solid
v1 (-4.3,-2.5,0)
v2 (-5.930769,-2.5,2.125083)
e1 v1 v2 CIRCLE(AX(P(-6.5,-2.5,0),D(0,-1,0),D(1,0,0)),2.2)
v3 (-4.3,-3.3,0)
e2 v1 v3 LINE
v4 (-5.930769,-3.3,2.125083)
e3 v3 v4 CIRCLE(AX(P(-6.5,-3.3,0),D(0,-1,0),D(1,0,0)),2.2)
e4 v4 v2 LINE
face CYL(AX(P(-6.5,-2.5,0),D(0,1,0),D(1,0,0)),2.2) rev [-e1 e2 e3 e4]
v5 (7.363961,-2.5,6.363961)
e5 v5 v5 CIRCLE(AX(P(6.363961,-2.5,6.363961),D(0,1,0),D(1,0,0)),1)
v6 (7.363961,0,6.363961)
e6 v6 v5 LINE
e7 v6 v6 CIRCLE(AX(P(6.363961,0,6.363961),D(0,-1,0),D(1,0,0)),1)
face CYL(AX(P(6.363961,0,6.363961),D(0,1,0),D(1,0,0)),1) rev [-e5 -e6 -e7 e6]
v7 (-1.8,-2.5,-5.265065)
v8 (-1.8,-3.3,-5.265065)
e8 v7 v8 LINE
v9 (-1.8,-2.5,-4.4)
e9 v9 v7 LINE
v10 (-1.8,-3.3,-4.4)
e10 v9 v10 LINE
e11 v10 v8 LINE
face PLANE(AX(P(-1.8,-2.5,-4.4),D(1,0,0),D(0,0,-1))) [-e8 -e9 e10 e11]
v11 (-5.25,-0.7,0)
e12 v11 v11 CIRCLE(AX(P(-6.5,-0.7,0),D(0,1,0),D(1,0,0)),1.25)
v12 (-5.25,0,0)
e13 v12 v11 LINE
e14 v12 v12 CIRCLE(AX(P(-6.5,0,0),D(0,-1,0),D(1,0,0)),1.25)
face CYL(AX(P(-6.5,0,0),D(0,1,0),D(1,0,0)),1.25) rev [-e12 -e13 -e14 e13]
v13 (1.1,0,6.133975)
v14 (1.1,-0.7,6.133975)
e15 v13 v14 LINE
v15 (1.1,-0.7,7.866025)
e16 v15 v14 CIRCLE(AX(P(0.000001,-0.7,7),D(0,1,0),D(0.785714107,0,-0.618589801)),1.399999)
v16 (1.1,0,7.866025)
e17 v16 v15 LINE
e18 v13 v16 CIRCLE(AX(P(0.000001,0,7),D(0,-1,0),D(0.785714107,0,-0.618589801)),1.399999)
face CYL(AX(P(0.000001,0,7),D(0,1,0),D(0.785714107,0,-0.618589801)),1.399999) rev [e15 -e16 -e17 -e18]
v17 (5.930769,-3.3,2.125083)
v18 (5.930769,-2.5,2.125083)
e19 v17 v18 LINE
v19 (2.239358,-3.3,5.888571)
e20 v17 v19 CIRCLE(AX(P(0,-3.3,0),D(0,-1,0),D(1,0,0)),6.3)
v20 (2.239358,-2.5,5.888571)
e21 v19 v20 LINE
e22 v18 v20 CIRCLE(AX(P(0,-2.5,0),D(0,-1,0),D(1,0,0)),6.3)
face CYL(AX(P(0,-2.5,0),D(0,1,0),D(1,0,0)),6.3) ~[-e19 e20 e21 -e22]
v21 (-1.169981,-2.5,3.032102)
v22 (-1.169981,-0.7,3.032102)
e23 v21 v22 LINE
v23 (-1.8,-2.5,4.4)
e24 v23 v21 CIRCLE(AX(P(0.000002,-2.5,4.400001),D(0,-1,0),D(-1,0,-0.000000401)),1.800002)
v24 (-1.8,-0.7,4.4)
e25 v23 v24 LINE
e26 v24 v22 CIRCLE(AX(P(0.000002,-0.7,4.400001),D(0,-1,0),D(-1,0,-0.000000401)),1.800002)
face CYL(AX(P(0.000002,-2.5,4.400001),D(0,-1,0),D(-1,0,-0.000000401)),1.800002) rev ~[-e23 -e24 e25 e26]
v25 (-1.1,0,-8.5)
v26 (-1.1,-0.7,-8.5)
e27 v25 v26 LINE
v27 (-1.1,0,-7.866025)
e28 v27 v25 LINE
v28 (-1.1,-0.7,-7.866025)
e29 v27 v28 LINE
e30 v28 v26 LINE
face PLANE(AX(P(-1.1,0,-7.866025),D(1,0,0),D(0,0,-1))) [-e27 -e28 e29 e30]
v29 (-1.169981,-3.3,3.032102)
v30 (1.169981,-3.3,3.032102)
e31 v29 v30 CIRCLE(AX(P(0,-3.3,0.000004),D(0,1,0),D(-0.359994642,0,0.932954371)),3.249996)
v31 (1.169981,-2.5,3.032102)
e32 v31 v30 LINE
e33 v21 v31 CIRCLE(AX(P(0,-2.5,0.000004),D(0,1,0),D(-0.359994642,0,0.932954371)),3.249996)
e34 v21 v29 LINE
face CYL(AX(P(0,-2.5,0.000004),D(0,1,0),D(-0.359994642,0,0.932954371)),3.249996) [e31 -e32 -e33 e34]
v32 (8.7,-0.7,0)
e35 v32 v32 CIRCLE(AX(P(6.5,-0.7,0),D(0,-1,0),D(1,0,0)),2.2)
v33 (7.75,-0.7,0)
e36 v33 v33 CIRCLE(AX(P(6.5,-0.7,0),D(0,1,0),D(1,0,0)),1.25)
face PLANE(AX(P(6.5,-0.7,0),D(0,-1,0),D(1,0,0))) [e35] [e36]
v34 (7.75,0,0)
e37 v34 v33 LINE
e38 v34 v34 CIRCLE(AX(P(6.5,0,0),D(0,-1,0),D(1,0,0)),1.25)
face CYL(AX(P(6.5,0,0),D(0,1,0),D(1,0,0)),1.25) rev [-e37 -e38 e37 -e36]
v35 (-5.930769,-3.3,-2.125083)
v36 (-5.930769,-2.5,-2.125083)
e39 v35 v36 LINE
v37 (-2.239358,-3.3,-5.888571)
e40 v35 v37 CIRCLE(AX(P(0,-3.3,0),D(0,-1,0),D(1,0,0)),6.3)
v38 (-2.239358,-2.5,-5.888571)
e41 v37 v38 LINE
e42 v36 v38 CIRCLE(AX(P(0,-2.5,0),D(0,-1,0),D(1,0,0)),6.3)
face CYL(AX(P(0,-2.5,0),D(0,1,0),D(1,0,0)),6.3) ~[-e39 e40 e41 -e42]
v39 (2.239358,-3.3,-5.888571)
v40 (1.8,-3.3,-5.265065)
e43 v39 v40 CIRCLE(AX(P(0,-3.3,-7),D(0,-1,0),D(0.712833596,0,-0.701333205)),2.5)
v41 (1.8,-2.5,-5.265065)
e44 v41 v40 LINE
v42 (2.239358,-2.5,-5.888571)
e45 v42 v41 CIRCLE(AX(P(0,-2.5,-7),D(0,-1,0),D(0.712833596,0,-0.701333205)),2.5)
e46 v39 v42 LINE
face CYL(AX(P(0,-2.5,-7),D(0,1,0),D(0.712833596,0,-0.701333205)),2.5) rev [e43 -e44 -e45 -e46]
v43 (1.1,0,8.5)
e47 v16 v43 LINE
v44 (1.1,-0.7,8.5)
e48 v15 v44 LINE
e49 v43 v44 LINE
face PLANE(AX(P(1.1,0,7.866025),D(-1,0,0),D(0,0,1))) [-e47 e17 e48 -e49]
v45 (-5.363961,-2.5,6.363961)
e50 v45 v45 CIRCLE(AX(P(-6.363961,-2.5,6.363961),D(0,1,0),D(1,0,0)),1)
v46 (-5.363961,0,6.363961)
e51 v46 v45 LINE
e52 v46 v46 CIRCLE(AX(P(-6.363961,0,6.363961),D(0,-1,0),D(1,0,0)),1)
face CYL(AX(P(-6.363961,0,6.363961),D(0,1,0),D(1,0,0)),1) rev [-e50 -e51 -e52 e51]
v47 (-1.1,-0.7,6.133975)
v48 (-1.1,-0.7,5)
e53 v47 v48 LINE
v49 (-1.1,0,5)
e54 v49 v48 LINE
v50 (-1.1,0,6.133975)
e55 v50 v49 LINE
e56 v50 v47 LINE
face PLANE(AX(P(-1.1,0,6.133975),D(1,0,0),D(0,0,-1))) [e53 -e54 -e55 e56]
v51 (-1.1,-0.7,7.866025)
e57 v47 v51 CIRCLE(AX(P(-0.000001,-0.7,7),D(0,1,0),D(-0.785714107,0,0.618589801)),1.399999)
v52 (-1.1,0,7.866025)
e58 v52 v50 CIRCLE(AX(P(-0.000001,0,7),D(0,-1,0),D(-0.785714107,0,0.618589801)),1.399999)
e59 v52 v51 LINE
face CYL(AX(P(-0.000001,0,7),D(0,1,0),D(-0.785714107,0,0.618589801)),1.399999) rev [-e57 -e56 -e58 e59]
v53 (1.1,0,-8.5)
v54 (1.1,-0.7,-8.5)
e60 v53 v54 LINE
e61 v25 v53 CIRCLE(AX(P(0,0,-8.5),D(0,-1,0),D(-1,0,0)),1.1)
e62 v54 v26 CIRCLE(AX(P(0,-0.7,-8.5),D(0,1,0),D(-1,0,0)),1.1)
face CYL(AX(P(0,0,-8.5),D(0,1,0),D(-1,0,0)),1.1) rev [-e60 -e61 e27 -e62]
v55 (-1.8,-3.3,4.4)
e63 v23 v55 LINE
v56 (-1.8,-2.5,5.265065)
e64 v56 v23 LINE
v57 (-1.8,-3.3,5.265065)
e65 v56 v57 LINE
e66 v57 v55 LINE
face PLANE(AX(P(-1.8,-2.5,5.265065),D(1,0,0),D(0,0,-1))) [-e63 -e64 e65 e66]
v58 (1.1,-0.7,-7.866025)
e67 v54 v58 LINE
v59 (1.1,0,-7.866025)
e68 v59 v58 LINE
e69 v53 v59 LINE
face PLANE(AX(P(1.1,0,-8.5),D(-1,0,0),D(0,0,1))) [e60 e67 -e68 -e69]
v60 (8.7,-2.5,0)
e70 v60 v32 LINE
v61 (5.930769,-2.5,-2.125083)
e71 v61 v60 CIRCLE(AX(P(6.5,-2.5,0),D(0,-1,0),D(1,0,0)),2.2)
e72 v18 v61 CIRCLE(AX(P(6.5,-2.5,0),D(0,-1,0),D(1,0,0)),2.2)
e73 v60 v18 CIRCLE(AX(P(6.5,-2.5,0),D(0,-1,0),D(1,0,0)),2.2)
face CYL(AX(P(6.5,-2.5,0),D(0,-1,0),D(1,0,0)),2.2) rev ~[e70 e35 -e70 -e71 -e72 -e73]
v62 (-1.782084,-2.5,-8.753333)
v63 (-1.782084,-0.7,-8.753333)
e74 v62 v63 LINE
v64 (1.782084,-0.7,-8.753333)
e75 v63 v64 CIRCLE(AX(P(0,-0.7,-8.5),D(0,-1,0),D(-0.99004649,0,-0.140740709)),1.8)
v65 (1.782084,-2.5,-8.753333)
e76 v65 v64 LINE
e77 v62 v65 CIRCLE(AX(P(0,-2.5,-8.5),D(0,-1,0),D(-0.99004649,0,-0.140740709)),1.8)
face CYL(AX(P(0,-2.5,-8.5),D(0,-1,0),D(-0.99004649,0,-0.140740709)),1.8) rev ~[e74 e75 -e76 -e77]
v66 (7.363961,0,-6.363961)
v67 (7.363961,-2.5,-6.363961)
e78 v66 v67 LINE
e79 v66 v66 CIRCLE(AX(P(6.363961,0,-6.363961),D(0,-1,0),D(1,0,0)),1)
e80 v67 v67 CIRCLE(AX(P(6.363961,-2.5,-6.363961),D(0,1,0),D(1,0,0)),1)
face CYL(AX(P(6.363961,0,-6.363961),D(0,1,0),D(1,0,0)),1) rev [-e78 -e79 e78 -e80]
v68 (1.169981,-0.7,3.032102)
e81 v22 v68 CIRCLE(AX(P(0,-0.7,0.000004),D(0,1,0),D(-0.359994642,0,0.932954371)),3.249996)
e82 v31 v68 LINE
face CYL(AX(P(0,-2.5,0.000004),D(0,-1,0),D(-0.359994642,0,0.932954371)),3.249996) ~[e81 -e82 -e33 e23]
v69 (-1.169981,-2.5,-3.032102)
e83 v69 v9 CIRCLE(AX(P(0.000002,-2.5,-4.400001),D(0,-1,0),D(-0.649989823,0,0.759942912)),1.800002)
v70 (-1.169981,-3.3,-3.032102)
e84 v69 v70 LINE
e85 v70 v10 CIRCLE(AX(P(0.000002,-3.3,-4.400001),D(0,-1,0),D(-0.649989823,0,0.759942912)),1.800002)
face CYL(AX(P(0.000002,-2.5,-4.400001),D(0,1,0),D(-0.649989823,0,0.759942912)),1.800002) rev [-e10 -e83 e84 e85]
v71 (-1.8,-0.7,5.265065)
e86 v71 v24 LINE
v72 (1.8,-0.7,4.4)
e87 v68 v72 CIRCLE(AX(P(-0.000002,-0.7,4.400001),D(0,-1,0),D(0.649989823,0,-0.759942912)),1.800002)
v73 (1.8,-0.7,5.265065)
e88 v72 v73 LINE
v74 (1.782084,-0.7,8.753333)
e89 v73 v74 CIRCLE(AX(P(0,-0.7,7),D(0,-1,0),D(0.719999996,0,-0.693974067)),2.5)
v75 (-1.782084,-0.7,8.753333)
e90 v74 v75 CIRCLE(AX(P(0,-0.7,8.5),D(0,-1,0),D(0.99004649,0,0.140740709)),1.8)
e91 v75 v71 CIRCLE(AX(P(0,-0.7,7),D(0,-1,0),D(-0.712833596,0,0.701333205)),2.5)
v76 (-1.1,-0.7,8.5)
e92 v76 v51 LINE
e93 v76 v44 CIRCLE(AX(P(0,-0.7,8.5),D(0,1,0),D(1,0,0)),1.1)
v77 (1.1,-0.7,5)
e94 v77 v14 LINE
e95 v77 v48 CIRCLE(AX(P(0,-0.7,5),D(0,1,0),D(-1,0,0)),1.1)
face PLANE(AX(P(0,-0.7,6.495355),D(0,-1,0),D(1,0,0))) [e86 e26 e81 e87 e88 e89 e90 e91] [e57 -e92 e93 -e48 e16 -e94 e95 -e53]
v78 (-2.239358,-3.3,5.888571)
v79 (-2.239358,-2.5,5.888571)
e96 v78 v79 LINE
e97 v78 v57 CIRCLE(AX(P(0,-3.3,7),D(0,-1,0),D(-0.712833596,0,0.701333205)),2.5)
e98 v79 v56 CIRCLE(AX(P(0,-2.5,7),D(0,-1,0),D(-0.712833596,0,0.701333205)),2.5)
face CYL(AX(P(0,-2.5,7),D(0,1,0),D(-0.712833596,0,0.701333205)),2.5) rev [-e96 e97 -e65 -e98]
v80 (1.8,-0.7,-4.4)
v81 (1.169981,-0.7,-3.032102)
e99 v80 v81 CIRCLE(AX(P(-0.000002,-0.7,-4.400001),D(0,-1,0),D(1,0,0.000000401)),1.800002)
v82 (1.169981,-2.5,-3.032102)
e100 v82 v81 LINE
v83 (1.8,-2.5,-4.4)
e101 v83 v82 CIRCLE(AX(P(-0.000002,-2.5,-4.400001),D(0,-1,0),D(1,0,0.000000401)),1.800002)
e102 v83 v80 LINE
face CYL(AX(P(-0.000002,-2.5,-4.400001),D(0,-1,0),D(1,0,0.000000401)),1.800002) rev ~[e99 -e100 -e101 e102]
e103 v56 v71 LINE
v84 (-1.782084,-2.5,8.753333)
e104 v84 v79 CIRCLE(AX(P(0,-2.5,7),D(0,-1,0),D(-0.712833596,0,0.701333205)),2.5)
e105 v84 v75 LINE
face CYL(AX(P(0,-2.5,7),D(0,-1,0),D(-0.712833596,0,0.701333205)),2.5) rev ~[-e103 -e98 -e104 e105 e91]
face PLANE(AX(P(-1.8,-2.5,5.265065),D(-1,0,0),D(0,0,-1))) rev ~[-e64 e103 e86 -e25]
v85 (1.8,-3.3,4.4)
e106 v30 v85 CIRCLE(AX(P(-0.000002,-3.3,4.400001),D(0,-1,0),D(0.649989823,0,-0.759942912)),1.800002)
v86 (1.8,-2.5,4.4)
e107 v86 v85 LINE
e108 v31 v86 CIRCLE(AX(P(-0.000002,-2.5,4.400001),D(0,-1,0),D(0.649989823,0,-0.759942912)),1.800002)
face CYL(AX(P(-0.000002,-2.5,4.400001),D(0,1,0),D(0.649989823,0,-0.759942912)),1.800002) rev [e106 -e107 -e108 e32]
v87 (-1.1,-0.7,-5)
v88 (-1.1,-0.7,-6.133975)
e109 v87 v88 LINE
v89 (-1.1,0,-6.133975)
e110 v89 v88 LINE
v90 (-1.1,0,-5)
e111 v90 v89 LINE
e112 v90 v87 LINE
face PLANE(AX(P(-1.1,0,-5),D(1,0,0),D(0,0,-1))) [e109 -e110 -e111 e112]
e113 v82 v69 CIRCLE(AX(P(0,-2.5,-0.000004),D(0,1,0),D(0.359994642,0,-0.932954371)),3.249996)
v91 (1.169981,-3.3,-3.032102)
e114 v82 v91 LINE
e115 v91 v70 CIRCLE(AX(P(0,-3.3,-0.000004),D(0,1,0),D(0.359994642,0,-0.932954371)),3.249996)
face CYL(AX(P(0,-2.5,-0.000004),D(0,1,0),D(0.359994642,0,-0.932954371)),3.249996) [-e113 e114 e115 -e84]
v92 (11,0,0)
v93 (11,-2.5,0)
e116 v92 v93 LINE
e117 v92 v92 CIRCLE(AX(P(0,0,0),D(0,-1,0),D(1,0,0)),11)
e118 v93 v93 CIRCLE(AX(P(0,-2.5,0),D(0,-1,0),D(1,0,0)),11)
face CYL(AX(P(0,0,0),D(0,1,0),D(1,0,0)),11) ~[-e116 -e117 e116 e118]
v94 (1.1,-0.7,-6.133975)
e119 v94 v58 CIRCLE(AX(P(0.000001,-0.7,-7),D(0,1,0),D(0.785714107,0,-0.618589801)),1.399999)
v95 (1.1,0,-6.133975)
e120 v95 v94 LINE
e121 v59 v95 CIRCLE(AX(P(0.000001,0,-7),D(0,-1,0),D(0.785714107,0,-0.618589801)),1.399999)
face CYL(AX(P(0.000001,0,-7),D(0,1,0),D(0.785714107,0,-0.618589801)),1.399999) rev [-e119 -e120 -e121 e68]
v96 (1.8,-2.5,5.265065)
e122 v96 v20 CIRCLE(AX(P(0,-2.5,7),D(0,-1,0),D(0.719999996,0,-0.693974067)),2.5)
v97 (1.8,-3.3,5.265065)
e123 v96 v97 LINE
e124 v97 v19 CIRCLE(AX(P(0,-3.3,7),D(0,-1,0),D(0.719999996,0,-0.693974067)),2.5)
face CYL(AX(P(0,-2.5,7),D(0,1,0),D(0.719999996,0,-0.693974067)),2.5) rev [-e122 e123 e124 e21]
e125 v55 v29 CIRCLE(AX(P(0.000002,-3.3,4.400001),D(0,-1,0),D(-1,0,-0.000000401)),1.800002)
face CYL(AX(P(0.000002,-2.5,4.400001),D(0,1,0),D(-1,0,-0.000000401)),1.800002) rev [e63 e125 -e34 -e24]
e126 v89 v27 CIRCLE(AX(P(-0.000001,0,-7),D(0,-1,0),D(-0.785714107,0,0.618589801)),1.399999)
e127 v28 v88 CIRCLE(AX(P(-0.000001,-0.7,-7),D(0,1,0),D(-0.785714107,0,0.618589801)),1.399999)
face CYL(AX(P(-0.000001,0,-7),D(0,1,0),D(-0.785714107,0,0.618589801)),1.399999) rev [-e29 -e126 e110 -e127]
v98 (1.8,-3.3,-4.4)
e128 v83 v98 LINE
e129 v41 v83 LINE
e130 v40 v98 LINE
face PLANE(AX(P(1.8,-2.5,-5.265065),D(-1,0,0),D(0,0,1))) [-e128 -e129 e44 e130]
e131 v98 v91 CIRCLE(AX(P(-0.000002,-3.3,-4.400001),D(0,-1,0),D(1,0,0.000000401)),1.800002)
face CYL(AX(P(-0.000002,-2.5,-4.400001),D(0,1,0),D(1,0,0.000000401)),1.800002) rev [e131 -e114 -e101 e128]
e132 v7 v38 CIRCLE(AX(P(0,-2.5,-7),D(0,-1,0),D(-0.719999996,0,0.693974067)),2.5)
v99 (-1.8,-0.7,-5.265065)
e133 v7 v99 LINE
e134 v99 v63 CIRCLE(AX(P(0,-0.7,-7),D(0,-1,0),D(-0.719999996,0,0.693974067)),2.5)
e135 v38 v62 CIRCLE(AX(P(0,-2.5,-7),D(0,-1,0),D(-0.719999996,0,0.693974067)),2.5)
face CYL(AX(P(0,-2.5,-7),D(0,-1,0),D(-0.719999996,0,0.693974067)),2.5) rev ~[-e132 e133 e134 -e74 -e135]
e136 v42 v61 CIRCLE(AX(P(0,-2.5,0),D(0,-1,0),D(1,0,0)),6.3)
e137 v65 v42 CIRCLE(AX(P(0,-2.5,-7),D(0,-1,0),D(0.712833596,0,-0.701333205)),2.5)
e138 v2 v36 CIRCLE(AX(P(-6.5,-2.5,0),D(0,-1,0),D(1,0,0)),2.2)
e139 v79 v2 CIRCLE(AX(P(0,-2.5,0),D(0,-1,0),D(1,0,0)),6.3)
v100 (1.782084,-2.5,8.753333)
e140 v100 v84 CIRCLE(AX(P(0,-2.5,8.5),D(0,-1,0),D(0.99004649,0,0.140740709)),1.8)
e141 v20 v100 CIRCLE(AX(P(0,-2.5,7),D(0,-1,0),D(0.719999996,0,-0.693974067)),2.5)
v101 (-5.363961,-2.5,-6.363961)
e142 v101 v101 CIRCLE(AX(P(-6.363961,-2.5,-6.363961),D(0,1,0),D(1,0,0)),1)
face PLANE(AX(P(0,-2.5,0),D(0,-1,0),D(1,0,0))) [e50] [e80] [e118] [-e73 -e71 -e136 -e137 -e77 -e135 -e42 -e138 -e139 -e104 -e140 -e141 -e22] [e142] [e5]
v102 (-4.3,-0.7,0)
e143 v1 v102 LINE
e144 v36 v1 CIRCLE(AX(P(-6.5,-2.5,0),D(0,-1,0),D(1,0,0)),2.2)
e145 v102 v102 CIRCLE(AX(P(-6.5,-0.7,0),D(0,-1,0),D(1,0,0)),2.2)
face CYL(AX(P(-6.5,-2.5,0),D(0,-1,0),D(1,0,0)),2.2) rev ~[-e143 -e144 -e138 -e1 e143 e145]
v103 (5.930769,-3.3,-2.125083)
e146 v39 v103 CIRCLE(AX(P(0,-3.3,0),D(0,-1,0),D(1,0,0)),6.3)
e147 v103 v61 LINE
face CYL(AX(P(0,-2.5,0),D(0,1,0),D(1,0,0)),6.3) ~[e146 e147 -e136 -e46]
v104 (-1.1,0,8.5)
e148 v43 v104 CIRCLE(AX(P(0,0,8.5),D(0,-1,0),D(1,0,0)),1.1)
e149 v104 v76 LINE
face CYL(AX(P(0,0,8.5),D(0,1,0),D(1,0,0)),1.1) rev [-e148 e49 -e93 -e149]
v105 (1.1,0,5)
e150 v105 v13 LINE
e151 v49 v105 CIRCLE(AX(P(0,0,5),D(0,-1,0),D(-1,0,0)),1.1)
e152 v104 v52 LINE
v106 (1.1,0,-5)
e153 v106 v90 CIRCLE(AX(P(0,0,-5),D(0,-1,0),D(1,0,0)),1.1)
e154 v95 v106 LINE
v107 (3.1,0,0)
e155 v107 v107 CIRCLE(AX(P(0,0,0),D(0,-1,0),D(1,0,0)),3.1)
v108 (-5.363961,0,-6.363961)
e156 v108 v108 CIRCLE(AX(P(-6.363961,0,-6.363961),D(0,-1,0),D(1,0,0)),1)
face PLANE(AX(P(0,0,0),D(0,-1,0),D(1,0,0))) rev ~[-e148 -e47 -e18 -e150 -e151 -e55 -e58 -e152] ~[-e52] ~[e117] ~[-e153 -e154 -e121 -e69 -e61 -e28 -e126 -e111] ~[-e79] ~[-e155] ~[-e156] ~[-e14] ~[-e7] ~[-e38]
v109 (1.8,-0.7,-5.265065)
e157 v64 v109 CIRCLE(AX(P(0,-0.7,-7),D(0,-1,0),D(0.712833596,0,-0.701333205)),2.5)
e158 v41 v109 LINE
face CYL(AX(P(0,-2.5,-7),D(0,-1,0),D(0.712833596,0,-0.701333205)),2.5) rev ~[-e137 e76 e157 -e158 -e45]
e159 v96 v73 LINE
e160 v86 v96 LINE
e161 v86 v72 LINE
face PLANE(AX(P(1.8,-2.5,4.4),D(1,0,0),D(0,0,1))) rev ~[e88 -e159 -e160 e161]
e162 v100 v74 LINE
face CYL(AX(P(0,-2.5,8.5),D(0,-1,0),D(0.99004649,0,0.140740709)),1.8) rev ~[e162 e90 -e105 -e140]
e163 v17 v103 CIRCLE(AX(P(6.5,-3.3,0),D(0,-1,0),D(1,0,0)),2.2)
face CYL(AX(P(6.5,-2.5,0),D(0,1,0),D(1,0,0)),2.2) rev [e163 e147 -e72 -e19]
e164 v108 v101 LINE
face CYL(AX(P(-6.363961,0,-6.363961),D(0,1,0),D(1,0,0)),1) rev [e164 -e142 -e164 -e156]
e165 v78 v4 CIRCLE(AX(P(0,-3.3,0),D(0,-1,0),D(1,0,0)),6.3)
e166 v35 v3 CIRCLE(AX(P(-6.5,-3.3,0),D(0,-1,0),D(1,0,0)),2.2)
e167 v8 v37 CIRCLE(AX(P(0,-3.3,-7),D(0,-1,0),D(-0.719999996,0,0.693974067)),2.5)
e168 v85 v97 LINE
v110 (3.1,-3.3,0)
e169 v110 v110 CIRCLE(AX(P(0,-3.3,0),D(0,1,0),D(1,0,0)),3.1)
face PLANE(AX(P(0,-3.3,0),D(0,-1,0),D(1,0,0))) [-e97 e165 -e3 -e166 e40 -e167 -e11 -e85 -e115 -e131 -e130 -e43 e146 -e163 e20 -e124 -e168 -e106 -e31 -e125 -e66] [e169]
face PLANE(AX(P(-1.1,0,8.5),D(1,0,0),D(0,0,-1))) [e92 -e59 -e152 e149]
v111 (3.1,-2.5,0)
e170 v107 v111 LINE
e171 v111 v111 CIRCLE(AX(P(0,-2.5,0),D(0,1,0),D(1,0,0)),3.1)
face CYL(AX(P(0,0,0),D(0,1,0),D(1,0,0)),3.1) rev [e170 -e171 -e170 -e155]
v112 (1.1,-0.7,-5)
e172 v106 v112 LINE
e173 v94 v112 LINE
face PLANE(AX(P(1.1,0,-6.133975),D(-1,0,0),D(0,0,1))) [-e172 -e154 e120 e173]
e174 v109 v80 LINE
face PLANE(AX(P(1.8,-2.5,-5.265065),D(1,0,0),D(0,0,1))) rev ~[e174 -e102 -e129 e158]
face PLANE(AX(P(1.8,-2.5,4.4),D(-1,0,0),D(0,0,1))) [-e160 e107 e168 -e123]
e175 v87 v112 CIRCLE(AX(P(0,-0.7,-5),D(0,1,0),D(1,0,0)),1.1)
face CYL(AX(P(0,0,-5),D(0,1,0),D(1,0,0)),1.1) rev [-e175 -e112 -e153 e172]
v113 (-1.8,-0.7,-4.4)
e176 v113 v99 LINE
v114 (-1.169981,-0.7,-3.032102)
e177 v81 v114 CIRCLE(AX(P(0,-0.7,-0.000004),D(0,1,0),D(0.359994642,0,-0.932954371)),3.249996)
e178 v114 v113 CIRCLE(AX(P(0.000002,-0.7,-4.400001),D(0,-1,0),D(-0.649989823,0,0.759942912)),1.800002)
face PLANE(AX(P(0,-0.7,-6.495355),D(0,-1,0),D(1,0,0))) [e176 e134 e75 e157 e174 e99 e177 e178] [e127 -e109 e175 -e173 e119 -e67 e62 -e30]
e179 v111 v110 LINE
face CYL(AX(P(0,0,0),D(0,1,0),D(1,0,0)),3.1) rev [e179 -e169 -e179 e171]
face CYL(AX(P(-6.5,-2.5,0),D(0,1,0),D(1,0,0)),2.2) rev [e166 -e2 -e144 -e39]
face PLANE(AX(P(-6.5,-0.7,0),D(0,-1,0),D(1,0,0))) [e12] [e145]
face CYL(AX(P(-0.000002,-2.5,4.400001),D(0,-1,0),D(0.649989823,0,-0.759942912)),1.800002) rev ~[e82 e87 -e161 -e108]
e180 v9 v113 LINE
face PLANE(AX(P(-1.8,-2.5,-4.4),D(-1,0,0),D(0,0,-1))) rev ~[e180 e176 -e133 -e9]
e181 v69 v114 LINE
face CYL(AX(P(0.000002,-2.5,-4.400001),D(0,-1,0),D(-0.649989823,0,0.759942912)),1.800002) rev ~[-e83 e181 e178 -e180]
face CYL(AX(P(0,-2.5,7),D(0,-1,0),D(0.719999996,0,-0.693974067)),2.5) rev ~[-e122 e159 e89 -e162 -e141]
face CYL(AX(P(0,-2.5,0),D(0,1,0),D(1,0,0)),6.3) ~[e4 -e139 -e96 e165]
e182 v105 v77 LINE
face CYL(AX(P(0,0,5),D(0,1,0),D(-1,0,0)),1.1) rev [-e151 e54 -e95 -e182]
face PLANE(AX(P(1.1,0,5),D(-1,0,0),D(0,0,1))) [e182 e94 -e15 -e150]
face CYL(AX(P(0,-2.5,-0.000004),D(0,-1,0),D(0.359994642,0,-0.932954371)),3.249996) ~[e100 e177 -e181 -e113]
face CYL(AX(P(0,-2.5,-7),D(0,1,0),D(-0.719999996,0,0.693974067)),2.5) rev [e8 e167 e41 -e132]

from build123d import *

# Parameters (mm, degrees)
F0_R     = 11
F2_DEPTH = 2.5
F1_R     = 3.1
F1_R_2   = 1.25
F1_R_3   = 1
F3_DEPTH = 2.501
F4_R     = 2.2
F5_DEPTH = 1.8
F6_R     = 6.3
F7_DEPTH = 0.8
F8_DEPTH = 0.8
F9_DEPTH = 3.301


with BuildPart() as f2:
    # F0 (on Front) → F2 (new body)
    with BuildSketch(Plane.XZ):
        Circle(F0_R)
    extrude(amount=F2_DEPTH)

    # F1 (on Front) → F3 (cut, through all)
    with BuildSketch(Plane.XZ):
        Circle(F1_R)
        with Locations((-6.5, 0)):
            Circle(F1_R_2)
        with Locations((-6.363961, 6.363961)):
            Circle(F1_R_3)
        with Locations((-6.363961, -6.363961)):
            Circle(F1_R_3)
        with Locations((6.363961, -6.363961)):
            Circle(F1_R_3)
        with Locations((6.363961, 6.363961)):
            Circle(F1_R_3)
        with Locations((6.5, 0)):
            Circle(F1_R_2)
        with BuildLine():
            ThreePointArc((1.1, -5), (0, -3.9), (-1.1, -5))
            Line((-1.1, -5), (-1.1, -6.133975))
            ThreePointArc((-1.1, -6.133975), (-1.4, -7), (-1.1, -7.866025))
            Line((-1.1, -7.866025), (-1.1, -8.5))
            ThreePointArc((-1.1, -8.5), (0, -9.6), (1.1, -8.5))
            Line((1.1, -8.5), (1.1, -7.866025))
            ThreePointArc((1.1, -7.866025), (1.4, -7), (1.1, -6.133975))
            Line((1.1, -6.133975), (1.1, -5))
        make_face()
        with BuildLine():
            Line((-1.1, 8.5), (-1.1, 7.866025))
            ThreePointArc((-1.1, 7.866025), (-1.4, 7), (-1.1, 6.133975))
            Line((-1.1, 6.133975), (-1.1, 5))
            ThreePointArc((-1.1, 5), (0, 3.9), (1.1, 5))
            Line((1.1, 5), (1.1, 6.133975))
            ThreePointArc((1.1, 6.133975), (1.4, 7), (1.1, 7.866025))
            Line((1.1, 7.866025), (1.1, 8.5))
            ThreePointArc((1.1, 8.5), (0, 9.6), (-1.1, 8.5))
        make_face()
    extrude(amount=F3_DEPTH, mode=Mode.SUBTRACT)

    # F4 (on face) → F5 (cut)
    with BuildSketch(Plane.XZ.offset(2.5)):
        with Locations((-6.5, 0)):
            Circle(F4_R)
        with Locations((6.5, 0)):
            Circle(F4_R)
        with BuildLine():
            Line((1.8, 4.4), (1.8, 5.265065))
            ThreePointArc((1.8, 5.265065), (2.499967, 7.01284), (1.782084, 8.753333))
            ThreePointArc((1.782084, 8.753333), (0, 10.3), (-1.782084, 8.753333))
            ThreePointArc((-1.782084, 8.753333), (-2.499967, 7.01284), (-1.8, 5.265065))
            Line((-1.8, 5.265065), (-1.8, 4.4))
            ThreePointArc((-1.8, 4.4), (-1.634926, 3.646995), (-1.169981, 3.032102))
            ThreePointArc((-1.169981, 3.032102), (0, 3.25), (1.169981, 3.032102))
            ThreePointArc((1.169981, 3.032102), (1.634926, 3.646995), (1.8, 4.4))
        make_face()
        with BuildLine():
            Line((-1.8, -4.4), (-1.8, -5.265065))
            ThreePointArc((-1.8, -5.265065), (-2.499967, -7.01284), (-1.782084, -8.753333))
            ThreePointArc((-1.782084, -8.753333), (0, -10.3), (1.782084, -8.753333))
            ThreePointArc((1.782084, -8.753333), (2.499967, -7.01284), (1.8, -5.265065))
            Line((1.8, -5.265065), (1.8, -4.4))
            ThreePointArc((1.8, -4.4), (1.634926, -3.646995), (1.169981, -3.032102))
            ThreePointArc((1.169981, -3.032102), (0, -3.25), (-1.169981, -3.032102))
            ThreePointArc((-1.169981, -3.032102), (-1.634926, -3.646995), (-1.8, -4.4))
        make_face()
    extrude(amount=-F5_DEPTH, mode=Mode.SUBTRACT)

    # F6 (on face) → F7 (join)
    with BuildSketch(Plane.XZ.offset(2.5)):
        Circle(F6_R)
    extrude(amount=F7_DEPTH)

    # F4 (on face) → F8 (cut)
    with BuildSketch(Plane.XZ.offset(2.5)):
        with Locations((-6.5, 0)):
            Circle(F4_R)
        with Locations((6.5, 0)):
            Circle(F4_R)
        with BuildLine():
            Line((1.8, 4.4), (1.8, 5.265065))
            ThreePointArc((1.8, 5.265065), (2.499967, 7.01284), (1.782084, 8.753333))
            ThreePointArc((1.782084, 8.753333), (0, 10.3), (-1.782084, 8.753333))
            ThreePointArc((-1.782084, 8.753333), (-2.499967, 7.01284), (-1.8, 5.265065))
            Line((-1.8, 5.265065), (-1.8, 4.4))
            ThreePointArc((-1.8, 4.4), (-1.634926, 3.646995), (-1.169981, 3.032102))
            ThreePointArc((-1.169981, 3.032102), (0, 3.25), (1.169981, 3.032102))
            ThreePointArc((1.169981, 3.032102), (1.634926, 3.646995), (1.8, 4.4))
        make_face()
        with BuildLine():
            Line((-1.8, -4.4), (-1.8, -5.265065))
            ThreePointArc((-1.8, -5.265065), (-2.499967, -7.01284), (-1.782084, -8.753333))
            ThreePointArc((-1.782084, -8.753333), (0, -10.3), (1.782084, -8.753333))
            ThreePointArc((1.782084, -8.753333), (2.499967, -7.01284), (1.8, -5.265065))
            Line((1.8, -5.265065), (1.8, -4.4))
            ThreePointArc((1.8, -4.4), (1.634926, -3.646995), (1.169981, -3.032102))
            ThreePointArc((1.169981, -3.032102), (0, -3.25), (-1.169981, -3.032102))
            ThreePointArc((-1.169981, -3.032102), (-1.634926, -3.646995), (-1.8, -4.4))
        make_face()
    extrude(amount=F8_DEPTH, mode=Mode.SUBTRACT)

    # F1 (on Front) → F9 (cut, through all)
    with BuildSketch(Plane.XZ):
        Circle(F1_R)
        with Locations((-6.5, 0)):
            Circle(F1_R_2)
        with Locations((-6.363961, 6.363961)):
            Circle(F1_R_3)
        with Locations((-6.363961, -6.363961)):
            Circle(F1_R_3)
        with Locations((6.363961, -6.363961)):
            Circle(F1_R_3)
        with Locations((6.363961, 6.363961)):
            Circle(F1_R_3)
        with Locations((6.5, 0)):
            Circle(F1_R_2)
        with BuildLine():
            ThreePointArc((1.1, -5), (0, -3.9), (-1.1, -5))
            Line((-1.1, -5), (-1.1, -6.133975))
            ThreePointArc((-1.1, -6.133975), (-1.4, -7), (-1.1, -7.866025))
            Line((-1.1, -7.866025), (-1.1, -8.5))
            ThreePointArc((-1.1, -8.5), (0, -9.6), (1.1, -8.5))
            Line((1.1, -8.5), (1.1, -7.866025))
            ThreePointArc((1.1, -7.866025), (1.4, -7), (1.1, -6.133975))
            Line((1.1, -6.133975), (1.1, -5))
        make_face()
        with BuildLine():
            Line((-1.1, 8.5), (-1.1, 7.866025))
            ThreePointArc((-1.1, 7.866025), (-1.4, 7), (-1.1, 6.133975))
            Line((-1.1, 6.133975), (-1.1, 5))
            ThreePointArc((-1.1, 5), (0, 3.9), (1.1, 5))
            Line((1.1, 5), (1.1, 6.133975))
            ThreePointArc((1.1, 6.133975), (1.4, 7), (1.1, 7.866025))
            Line((1.1, 7.866025), (1.1, 8.5))
            ThreePointArc((1.1, 8.5), (0, 9.6), (-1.1, 8.5))
        make_face()
    extrude(amount=F9_DEPTH, mode=Mode.SUBTRACT)


solid = f2.part
